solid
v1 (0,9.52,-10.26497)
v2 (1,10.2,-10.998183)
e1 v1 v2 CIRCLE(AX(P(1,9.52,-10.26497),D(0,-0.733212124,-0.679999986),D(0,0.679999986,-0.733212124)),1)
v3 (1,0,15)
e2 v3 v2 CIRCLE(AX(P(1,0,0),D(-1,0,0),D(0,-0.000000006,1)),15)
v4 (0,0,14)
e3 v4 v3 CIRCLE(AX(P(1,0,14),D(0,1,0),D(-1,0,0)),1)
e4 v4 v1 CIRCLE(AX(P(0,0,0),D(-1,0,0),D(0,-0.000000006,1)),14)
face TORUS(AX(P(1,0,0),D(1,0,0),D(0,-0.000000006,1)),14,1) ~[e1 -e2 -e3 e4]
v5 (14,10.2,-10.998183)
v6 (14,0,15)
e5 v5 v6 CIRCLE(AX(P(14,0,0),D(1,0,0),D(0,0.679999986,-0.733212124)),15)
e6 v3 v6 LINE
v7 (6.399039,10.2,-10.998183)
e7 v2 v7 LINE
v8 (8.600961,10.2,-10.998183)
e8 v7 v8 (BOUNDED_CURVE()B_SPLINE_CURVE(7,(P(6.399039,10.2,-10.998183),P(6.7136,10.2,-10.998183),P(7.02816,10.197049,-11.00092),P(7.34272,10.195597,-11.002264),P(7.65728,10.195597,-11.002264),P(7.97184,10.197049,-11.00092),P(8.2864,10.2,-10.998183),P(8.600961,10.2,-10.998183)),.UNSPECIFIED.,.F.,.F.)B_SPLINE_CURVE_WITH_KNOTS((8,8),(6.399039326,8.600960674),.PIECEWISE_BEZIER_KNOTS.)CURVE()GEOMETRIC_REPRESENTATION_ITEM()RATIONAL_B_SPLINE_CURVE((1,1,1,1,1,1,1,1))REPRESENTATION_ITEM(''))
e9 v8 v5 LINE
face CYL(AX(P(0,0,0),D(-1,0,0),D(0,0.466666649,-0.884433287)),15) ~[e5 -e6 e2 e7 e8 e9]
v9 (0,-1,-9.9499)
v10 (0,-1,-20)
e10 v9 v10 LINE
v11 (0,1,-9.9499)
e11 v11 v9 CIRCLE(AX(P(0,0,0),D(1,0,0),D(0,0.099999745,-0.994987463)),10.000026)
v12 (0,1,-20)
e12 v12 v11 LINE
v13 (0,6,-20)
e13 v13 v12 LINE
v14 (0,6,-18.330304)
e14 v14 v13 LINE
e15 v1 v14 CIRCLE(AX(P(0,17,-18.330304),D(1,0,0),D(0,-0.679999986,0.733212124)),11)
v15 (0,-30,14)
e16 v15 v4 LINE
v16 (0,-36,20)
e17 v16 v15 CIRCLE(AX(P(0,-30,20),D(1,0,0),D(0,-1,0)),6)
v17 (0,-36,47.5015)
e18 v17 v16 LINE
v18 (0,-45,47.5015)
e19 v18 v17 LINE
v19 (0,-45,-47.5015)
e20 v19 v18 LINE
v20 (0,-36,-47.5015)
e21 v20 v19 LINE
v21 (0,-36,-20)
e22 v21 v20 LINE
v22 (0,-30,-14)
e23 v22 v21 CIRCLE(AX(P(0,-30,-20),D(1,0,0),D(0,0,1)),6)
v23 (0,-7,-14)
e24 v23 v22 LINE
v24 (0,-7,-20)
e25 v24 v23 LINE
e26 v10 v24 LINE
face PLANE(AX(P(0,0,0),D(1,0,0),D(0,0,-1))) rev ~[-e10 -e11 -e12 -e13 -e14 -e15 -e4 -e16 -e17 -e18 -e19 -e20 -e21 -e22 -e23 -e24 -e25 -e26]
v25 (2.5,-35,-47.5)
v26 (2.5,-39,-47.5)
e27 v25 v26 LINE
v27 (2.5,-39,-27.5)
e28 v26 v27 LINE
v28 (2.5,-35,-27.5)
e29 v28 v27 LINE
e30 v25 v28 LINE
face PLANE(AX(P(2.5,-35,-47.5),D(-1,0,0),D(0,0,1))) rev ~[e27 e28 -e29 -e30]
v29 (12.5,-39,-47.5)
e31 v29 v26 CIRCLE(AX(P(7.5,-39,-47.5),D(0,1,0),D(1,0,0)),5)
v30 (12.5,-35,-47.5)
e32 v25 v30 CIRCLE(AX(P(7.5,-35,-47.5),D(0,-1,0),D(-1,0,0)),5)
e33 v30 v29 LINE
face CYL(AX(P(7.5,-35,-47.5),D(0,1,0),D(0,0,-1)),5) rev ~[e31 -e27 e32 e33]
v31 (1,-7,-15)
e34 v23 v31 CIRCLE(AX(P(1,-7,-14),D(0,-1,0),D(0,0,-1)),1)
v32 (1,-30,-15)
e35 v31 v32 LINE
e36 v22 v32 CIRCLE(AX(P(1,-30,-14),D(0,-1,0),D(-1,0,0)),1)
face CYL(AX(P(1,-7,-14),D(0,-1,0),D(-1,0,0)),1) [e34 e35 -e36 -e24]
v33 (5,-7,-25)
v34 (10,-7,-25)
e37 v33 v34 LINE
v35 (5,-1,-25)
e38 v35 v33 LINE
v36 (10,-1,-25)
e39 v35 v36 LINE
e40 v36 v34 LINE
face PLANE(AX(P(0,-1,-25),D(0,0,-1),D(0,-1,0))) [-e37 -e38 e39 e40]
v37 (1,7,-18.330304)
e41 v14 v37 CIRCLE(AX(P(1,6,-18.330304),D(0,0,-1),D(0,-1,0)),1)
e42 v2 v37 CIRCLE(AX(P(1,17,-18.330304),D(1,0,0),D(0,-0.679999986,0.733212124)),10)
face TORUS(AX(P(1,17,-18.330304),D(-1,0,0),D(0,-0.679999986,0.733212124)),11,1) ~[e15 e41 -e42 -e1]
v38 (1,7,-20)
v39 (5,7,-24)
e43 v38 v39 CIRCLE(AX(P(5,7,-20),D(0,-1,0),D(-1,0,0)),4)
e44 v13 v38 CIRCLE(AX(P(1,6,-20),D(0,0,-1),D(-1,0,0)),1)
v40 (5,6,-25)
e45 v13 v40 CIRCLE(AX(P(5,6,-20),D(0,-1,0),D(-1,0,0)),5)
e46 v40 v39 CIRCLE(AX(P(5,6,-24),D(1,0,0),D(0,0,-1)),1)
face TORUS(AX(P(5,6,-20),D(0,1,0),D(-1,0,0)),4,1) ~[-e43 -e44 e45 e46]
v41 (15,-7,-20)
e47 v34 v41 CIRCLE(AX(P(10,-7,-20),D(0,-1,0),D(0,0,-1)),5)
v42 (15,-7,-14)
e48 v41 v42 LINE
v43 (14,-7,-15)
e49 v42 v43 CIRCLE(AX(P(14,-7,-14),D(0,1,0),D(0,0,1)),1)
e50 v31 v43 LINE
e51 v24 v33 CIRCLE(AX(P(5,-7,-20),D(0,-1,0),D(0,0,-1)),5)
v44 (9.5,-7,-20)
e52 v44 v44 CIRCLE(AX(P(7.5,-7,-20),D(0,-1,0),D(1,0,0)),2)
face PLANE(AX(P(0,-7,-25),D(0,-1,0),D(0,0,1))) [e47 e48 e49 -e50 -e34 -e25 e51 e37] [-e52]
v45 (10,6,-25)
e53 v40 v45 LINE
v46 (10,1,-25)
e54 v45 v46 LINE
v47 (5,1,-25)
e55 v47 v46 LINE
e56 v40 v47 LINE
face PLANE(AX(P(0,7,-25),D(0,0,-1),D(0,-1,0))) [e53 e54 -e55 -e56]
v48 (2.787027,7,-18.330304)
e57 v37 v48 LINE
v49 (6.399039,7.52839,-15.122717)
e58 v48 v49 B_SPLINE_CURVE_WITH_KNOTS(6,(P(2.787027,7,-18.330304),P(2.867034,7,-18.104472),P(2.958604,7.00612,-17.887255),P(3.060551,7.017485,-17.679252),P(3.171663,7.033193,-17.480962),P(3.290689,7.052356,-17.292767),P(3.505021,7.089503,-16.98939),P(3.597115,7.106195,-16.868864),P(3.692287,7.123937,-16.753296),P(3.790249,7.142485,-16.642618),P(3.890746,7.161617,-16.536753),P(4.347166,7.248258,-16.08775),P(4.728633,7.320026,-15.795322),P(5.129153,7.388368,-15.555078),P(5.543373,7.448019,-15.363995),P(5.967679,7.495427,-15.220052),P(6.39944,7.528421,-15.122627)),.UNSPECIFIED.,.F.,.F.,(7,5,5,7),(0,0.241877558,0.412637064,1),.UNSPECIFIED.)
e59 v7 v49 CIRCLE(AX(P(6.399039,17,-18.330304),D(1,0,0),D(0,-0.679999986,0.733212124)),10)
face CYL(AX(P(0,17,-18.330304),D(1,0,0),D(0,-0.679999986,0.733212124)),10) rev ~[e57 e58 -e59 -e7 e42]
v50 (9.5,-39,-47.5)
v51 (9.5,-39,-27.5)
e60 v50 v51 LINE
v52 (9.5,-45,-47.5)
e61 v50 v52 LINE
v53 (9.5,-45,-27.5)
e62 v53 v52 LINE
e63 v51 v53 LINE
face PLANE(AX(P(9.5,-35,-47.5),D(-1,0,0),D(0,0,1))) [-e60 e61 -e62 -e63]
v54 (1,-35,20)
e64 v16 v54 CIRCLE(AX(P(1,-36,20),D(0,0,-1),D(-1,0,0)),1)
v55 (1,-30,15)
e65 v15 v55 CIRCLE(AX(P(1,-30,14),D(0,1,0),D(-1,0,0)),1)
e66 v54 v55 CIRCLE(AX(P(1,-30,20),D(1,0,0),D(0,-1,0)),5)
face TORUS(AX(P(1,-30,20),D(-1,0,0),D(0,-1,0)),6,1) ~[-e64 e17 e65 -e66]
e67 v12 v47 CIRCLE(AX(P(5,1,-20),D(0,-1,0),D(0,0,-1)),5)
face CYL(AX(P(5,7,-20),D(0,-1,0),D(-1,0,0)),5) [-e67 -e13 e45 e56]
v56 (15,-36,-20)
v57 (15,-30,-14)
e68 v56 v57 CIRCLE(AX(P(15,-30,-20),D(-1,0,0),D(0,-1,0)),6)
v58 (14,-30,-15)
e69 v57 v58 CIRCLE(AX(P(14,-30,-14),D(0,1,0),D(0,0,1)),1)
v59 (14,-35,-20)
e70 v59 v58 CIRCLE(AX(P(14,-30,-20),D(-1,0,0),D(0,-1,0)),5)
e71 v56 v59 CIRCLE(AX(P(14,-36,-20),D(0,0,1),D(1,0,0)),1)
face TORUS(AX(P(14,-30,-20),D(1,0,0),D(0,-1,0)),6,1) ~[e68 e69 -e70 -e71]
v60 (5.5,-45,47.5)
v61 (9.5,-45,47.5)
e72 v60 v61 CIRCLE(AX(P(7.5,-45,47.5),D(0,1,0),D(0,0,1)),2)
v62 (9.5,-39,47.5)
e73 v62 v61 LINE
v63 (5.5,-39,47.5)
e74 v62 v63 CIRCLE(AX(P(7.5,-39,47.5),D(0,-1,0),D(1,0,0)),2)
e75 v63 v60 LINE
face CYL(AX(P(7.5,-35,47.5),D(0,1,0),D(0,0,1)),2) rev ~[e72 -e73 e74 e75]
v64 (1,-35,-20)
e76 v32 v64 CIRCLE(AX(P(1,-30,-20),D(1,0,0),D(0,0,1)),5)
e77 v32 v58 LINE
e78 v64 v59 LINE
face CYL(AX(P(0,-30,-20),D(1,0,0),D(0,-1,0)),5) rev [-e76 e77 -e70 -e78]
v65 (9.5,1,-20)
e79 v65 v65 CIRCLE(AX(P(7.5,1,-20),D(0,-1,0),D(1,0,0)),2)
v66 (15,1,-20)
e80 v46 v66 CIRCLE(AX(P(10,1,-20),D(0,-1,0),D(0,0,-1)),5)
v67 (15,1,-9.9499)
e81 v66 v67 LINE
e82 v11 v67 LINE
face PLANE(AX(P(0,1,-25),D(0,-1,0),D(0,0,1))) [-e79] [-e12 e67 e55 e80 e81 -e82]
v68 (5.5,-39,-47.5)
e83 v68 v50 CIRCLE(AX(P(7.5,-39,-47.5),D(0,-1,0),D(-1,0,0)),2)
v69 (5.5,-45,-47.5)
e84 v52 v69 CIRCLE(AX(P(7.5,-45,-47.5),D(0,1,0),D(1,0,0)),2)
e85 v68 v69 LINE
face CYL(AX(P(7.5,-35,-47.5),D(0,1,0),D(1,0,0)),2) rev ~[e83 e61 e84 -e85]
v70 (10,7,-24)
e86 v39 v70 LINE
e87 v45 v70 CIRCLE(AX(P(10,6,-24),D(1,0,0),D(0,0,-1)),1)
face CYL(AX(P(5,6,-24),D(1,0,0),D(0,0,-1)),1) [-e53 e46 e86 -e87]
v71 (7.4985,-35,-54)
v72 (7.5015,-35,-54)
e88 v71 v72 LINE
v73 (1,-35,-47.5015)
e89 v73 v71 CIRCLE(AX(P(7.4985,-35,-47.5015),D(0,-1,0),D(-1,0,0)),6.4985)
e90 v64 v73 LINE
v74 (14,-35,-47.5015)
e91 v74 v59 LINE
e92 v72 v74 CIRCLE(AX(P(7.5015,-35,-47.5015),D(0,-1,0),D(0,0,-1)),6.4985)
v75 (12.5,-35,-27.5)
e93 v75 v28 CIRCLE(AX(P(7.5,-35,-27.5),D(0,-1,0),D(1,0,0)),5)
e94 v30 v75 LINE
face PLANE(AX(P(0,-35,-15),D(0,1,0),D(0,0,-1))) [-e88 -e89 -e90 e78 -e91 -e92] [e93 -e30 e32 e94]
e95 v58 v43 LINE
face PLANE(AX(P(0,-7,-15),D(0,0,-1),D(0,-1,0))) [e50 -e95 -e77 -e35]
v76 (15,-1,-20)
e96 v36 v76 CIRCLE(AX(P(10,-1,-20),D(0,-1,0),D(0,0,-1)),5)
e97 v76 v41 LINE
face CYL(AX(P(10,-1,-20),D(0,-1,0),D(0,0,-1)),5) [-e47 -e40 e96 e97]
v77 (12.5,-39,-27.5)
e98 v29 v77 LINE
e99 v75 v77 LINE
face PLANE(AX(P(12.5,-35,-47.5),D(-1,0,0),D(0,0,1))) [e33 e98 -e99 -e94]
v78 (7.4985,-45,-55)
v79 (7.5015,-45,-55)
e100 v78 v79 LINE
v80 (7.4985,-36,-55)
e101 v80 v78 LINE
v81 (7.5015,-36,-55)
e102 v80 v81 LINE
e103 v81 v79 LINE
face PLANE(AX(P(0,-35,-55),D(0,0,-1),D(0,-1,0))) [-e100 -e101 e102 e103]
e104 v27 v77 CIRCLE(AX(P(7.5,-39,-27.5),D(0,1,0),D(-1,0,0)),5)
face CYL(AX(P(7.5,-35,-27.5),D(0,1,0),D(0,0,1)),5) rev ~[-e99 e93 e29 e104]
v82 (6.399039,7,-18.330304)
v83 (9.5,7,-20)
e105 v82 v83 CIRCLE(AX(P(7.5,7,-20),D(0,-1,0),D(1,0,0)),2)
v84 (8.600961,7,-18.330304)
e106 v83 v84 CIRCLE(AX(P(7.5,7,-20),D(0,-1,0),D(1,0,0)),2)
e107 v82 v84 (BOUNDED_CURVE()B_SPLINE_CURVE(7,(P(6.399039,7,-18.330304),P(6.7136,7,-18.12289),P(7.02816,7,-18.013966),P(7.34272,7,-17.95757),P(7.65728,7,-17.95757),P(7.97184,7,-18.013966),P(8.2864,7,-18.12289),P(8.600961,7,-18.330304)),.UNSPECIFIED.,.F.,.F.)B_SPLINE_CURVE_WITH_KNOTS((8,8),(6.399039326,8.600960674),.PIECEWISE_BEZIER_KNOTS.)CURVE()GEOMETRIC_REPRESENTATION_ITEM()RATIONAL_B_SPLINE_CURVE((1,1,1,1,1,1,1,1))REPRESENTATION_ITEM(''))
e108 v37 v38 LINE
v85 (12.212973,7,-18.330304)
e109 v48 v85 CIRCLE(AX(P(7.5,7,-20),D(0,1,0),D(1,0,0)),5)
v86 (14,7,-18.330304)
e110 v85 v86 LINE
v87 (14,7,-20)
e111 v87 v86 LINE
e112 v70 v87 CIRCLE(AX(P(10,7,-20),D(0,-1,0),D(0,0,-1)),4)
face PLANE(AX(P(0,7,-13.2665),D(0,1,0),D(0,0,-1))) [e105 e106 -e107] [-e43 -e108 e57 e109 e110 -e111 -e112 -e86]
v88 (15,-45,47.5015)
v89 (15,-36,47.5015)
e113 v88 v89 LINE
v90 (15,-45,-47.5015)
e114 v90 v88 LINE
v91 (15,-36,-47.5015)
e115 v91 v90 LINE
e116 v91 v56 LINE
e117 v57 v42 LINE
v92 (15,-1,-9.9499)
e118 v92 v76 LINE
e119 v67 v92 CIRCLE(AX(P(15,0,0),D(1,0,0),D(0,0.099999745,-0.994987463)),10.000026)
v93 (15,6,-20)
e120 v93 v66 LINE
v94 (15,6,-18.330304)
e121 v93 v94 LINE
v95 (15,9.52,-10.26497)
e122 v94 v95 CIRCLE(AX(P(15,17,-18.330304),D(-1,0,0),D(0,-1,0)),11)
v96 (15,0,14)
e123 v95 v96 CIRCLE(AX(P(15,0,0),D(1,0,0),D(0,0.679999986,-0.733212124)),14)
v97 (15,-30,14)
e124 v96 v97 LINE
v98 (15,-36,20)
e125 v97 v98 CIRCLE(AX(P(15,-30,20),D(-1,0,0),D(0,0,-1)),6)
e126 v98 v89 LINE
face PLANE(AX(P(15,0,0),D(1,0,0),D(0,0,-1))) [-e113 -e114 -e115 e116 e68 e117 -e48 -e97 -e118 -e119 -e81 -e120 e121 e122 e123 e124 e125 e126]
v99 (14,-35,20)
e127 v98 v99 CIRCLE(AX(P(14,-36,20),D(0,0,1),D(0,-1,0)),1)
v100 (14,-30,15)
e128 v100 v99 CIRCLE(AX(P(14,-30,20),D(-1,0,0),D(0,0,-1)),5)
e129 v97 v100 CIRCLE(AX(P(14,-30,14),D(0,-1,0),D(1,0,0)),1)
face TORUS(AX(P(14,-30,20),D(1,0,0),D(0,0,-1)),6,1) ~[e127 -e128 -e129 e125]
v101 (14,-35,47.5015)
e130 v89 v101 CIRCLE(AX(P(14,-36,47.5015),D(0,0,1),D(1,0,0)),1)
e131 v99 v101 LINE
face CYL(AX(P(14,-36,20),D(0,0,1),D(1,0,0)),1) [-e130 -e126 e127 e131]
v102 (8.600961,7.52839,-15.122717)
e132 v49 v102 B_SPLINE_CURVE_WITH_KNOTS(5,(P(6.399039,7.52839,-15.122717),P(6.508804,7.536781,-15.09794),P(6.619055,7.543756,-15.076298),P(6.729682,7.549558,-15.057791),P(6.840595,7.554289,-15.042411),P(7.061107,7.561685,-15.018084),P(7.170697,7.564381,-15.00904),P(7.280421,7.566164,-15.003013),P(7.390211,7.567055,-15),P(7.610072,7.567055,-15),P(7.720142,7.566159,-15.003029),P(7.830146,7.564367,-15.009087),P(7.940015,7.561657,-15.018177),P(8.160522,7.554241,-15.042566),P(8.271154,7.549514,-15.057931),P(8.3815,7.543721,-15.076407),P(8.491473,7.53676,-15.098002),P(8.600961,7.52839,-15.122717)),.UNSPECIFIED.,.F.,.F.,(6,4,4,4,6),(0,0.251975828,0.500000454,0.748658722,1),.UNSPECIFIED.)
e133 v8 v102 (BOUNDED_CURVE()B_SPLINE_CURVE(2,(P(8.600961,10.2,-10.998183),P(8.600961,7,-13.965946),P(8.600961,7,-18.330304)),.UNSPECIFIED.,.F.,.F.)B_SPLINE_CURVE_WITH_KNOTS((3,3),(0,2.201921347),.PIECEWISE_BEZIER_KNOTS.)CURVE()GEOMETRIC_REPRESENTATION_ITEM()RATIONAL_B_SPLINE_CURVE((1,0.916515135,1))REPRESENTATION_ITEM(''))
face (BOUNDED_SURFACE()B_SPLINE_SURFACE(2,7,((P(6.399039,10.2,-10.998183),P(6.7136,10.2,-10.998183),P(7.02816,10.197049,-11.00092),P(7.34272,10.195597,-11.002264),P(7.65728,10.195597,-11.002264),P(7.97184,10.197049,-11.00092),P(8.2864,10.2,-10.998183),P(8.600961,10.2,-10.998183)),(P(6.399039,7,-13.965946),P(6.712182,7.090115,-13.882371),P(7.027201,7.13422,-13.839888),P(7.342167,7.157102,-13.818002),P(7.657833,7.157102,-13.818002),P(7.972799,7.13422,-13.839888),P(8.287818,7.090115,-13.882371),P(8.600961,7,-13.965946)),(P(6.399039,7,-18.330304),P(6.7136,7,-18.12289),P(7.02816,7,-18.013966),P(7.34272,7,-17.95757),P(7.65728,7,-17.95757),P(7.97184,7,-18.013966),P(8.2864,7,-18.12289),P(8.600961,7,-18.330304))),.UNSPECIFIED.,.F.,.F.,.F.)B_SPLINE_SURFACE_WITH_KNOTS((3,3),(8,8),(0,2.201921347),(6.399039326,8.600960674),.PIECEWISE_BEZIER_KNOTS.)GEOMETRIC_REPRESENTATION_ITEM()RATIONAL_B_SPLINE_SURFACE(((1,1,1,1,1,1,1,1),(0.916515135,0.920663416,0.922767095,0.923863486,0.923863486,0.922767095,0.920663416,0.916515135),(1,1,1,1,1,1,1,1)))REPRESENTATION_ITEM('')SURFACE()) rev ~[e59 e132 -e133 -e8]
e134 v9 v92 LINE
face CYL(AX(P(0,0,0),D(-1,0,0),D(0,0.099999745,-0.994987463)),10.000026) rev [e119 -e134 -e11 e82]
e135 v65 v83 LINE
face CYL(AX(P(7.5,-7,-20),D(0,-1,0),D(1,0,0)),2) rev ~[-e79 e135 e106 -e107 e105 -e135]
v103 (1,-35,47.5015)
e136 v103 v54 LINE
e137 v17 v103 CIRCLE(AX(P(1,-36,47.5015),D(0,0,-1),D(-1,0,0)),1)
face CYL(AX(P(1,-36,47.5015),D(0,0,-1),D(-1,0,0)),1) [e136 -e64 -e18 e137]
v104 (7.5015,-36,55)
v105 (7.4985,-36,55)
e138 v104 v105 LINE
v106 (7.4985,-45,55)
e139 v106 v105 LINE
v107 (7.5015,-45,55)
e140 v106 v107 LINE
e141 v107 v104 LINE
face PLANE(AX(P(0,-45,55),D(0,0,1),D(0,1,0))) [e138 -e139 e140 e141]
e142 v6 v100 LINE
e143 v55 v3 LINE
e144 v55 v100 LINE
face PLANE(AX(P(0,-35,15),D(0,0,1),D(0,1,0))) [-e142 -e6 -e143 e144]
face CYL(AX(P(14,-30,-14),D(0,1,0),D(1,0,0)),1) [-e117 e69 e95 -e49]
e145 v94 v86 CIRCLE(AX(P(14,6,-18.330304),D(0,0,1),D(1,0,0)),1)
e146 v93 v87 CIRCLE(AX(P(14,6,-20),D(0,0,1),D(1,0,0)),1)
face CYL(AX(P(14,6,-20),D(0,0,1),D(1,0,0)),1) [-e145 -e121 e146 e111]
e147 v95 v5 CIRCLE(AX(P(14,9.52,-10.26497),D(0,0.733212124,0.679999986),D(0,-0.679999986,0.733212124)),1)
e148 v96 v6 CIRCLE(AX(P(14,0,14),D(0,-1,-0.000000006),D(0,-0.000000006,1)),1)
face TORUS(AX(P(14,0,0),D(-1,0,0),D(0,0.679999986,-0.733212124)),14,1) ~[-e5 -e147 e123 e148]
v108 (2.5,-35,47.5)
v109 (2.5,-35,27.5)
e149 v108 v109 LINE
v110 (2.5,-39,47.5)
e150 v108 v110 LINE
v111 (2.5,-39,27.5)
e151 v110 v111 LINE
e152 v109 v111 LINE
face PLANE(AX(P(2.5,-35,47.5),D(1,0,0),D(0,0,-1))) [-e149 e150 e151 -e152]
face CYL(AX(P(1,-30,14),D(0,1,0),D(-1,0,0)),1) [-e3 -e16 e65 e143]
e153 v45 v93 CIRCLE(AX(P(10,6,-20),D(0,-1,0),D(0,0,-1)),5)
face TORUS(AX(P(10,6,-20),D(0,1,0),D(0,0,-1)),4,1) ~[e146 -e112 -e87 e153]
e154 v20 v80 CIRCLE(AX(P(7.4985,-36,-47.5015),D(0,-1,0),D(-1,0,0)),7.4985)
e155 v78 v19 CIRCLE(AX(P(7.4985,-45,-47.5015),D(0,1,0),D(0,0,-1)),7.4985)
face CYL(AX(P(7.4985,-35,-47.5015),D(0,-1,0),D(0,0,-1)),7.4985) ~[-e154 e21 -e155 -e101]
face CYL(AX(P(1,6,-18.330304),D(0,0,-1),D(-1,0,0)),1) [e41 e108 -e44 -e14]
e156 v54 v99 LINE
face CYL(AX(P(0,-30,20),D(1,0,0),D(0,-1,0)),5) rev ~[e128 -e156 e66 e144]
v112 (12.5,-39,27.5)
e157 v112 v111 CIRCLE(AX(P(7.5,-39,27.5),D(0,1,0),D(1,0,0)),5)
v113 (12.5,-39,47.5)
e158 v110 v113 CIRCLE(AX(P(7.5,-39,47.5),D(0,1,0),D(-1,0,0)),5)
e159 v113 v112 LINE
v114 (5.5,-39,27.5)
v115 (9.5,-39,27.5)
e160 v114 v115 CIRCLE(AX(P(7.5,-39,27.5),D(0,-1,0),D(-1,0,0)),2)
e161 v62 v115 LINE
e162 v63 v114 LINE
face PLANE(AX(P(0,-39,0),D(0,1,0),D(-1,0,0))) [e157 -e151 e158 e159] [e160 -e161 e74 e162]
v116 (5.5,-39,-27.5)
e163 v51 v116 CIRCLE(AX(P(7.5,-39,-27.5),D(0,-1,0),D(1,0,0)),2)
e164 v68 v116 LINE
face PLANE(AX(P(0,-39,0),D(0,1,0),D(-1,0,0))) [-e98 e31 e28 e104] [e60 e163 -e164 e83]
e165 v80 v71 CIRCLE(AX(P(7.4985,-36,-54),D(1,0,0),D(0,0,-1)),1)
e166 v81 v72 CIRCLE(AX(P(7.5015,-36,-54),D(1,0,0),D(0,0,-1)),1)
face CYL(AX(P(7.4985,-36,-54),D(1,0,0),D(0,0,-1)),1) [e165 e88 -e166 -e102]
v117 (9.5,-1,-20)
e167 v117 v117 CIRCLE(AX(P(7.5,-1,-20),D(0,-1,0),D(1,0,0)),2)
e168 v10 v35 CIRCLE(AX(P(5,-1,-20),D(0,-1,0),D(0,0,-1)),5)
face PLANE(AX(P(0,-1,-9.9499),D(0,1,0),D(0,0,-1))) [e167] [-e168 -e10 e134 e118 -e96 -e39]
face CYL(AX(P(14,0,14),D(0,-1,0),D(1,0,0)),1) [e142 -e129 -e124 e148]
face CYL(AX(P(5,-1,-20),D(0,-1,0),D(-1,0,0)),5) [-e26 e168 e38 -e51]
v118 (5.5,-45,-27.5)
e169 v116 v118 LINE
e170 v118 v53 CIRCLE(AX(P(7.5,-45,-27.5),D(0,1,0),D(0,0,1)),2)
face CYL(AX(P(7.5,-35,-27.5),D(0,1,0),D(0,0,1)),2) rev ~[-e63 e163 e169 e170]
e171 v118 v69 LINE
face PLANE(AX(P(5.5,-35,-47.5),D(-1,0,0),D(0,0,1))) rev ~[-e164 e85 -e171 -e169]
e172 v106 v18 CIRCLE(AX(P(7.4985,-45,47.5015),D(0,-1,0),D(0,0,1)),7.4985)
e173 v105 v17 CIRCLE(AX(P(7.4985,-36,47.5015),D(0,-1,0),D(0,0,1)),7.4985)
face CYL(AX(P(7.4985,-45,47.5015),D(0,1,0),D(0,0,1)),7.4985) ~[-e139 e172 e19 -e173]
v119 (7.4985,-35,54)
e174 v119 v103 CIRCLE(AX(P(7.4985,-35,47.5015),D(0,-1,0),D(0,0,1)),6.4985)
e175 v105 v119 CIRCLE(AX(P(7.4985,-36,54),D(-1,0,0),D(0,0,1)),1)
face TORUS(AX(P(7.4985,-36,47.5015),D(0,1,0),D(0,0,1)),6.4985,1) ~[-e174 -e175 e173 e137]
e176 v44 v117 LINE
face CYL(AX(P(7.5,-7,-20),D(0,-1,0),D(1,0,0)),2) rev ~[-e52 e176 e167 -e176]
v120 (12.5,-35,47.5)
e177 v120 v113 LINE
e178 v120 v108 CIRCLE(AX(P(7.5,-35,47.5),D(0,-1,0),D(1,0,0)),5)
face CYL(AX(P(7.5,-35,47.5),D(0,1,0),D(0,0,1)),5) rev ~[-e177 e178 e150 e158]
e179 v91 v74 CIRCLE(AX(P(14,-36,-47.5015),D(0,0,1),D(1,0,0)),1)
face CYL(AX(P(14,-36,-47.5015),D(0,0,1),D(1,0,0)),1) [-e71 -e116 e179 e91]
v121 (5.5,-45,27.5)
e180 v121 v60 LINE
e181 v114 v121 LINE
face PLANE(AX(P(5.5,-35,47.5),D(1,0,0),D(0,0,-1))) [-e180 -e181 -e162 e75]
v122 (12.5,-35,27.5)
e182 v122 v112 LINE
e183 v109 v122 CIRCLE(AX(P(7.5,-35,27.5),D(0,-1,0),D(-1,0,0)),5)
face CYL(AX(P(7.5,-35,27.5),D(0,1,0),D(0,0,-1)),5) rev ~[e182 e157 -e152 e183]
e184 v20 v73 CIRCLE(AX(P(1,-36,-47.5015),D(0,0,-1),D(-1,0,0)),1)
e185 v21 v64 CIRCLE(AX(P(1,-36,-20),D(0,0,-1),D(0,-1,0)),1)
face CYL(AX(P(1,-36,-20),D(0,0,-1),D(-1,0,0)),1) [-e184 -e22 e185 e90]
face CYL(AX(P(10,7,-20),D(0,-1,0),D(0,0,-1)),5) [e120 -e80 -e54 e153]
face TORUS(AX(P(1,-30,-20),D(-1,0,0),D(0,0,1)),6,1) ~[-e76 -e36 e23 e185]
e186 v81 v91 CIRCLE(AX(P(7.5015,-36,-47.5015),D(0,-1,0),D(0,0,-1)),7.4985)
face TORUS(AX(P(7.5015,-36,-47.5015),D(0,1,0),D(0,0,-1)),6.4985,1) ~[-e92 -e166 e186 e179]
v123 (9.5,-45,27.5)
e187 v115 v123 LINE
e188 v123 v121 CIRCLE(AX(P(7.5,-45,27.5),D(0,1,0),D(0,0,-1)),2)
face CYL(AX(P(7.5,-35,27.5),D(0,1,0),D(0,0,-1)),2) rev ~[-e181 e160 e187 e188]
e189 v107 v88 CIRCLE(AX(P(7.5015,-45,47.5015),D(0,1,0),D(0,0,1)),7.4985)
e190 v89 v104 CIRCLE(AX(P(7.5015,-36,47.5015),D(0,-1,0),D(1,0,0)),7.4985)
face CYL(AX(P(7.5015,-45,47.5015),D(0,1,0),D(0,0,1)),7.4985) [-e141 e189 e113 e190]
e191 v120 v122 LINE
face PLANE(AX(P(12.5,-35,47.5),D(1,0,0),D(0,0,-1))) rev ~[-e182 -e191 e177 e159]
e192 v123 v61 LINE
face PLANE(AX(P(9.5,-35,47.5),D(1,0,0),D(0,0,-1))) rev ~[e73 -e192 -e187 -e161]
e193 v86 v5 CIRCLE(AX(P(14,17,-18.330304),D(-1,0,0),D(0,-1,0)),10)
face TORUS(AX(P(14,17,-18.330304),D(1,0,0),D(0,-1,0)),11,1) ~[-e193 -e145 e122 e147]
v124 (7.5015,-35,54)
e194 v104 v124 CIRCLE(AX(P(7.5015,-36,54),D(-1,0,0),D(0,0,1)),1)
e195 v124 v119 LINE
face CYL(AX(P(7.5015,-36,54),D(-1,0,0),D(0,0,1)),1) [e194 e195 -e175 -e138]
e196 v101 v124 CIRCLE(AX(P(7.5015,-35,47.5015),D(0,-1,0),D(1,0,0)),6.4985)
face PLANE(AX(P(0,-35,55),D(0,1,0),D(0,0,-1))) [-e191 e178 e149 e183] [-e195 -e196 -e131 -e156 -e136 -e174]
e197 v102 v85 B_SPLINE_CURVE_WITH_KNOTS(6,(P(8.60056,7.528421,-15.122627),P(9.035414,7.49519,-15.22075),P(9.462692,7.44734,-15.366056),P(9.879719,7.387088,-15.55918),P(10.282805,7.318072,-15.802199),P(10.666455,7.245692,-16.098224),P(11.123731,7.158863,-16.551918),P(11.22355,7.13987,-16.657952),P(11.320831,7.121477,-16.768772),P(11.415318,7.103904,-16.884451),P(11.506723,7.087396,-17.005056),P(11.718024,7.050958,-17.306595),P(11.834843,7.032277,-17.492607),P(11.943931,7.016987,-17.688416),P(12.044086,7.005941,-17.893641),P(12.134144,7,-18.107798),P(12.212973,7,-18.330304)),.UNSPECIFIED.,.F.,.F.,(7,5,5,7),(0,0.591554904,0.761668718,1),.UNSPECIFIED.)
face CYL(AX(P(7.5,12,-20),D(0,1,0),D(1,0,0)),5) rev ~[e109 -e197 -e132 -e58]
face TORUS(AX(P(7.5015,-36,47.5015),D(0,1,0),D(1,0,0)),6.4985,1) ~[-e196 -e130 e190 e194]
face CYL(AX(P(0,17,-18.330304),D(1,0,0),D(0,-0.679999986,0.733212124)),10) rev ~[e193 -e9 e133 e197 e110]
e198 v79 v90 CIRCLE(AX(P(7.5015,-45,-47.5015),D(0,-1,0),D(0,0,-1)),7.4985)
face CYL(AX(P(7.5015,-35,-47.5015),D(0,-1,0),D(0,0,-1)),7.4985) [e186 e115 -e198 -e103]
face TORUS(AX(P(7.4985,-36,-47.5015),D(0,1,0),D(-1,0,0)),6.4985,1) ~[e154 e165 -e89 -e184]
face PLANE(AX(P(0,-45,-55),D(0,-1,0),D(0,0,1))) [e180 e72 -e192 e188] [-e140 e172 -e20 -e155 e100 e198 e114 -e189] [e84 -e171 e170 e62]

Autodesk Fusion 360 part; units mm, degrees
sketch "Esquisse1" plane through (0, 0, 0) normal (1, 0, 0) x (0, 0, -1)
  circle A0 centre (0, 0) radius 10 construction
  circle A1 centre (0, 0) radius 15 construction
  line L0 (15, -35) -> (15, 0) construction
  line L1 (-15, -35) -> (-15, 0) construction
  line L2 (4, 1) -> (25, 1) construction
  line L3 (4, -1) -> (25, -1) construction
  line L4 (25, -1) -> (25, -7) construction
  line L5 (25, -7) -> (13.2665, -7) construction
  line L6 (25, 1) -> (25, 7) construction
  line L7 (25, 7) -> (13.2665, 7) construction
  line L8 (-15, -35) -> (-55, -35) construction
  line L9 (-55, -35) -> (-55, -45) construction
  line L10 (15, -35) -> (55, -35) construction
  line L11 (55, -35) -> (55, -45) construction
  line L12 (55, -45) -> (-55, -45) construction
  line L13 (55, -45) -> (-55, -45)
  line L14 (-55, -45) -> (-55, -35)
  line L15 (-55, -35) -> (-15, -35)
  line L16 (-15, -35) -> (-15, 0)
  line L17 (13.2665, 7) -> (25, 7)
  line L18 (25, 7) -> (25, 1)
  line L19 (25, 1) -> (9.9499, 1)
  line L20 (9.9499, -1) -> (25, -1)
  line L21 (25, -1) -> (25, -7)
  line L22 (25, -7) -> (15, -7)
  line L23 (15, -7) -> (15, -35)
  line L24 (15, -35) -> (55, -35)
  line L25 (55, -35) -> (55, -45)
  arc A2 (13.2665, 7) -> (-15, 0) centre (0, 0) ccw
  arc A3 (9.9499, 1) -> (9.9499, -1) centre (0, 0) ccw
  dimension "d58" = 20
  dimension "d59" = 30
  dimension "d60" = 10
  dimension "d61" = 10
  dimension "d62" = 45
  dimension "d63" = 10
  dimension "d64" = 10
extrude "Extrusion8" add sketch "Esquisse1" along normal blind 15
fillet "Congé9" radius 7.5 4 edges at (15, -40, -55) (0, -40, -55) (15, -40, 55) (0, -40, 55)
fillet "Congé10" radius 5 2 edges at (7.5, -35, -15) (7.5, -35, 15)
sketch "Esquisse8" plane through (0, -35, 0) normal (0, 1, 0) x (-1, 0, 0)
  line L0 (-15, 20) -> (0, 20)
  line L1 (0, 20) -> (0, 47.5)
  arc A0 (0, 47.5) -> (-15, 47.5) centre (-7.5, 47.5) ccw
  line L2 (-15, 47.5) -> (-15, 20)
  line L3 (0, 47.5) -> (-15, 47.5) construction
  line L4 (-7.5, 55) -> (-7.5, 20) construction
  line L5 (0, 27.5) -> (-15, 27.5) construction
  line L6 (-2.5, 47.5) -> (-2.5, 27.5)
  line L7 (-5.5, 47.5) -> (-5.5, 27.5)
  arc A1 (-5.5, 47.5) -> (-7.5, 49.5) centre (-7.5, 47.5) ccw
  arc A2 (-2.5, 47.5) -> (-7.5, 52.5) centre (-7.5, 47.5) ccw
  arc A3 (-7.5, 25.5) -> (-5.5, 27.5) centre (-7.5, 27.5) ccw
  arc A4 (-7.5, 22.5) -> (-2.5, 27.5) centre (-7.5, 27.5) ccw
  arc A5 (-12.5, 27.5) -> (-7.5, 22.5) centre (-7.5, 27.5) ccw
  arc A6 (-9.5, 27.5) -> (-7.5, 25.5) centre (-7.5, 27.5) ccw
  line L8 (-9.5, 47.5) -> (-9.5, 27.5)
  line L9 (-12.5, 47.5) -> (-12.5, 27.5)
  arc A7 (-7.5, 52.5) -> (-12.5, 47.5) centre (-7.5, 47.5) ccw
  arc A8 (-7.5, 49.5) -> (-9.5, 47.5) centre (-7.5, 47.5) ccw
  line L10 (10, 0) -> (-30, 0)
  line L11 (-12.5, -47.5) -> (-12.5, -27.5)
  line L12 (-2.5, -47.5) -> (-2.5, -27.5)
  arc A9 (-7.5, -49.5) -> (-5.5, -47.5) centre (-7.5, -47.5) ccw
  arc A10 (-7.5, -52.5) -> (-2.5, -47.5) centre (-7.5, -47.5) ccw
  line L13 (-5.5, -47.5) -> (-5.5, -27.5)
  line L14 (0, -27.5) -> (-15, -27.5) construction
  arc A11 (-2.5, -27.5) -> (-7.5, -22.5) centre (-7.5, -27.5) ccw
  arc A12 (-5.5, -27.5) -> (-7.5, -25.5) centre (-7.5, -27.5) ccw
  arc A13 (-9.5, -47.5) -> (-7.5, -49.5) centre (-7.5, -47.5) ccw
  arc A14 (-12.5, -47.5) -> (-7.5, -52.5) centre (-7.5, -47.5) ccw
  line L15 (0, -47.5) -> (-15, -47.5) construction
  arc A15 (-7.5, -22.5) -> (-12.5, -27.5) centre (-7.5, -27.5) ccw
  line L16 (-9.5, -47.5) -> (-9.5, -27.5)
  arc A16 (-7.5, -25.5) -> (-9.5, -27.5) centre (-7.5, -27.5) ccw
  point P0 (-15, -47.5)
  point P1 (-7.5, -47.5)
  point P2 (0, -47.5)
  dimension "d71" = 20
  dimension "d72" = 5
  dimension "d73" = 2
extrude "Extrusion9" cut sketch "Esquisse8" against normal blind 20 contours L7 A1 A3 A6 L8 A8 | A9 L13 A12 A13 L16 A16
extrude "Extrusion10" cut sketch "Esquisse8" against normal blind 4 contours L6 A2 A4 A5 L9 A7 | L11 L12 A10 A11 A14 A15
sketch "Esquisse9" plane through (0, -7, 0) normal (0, -1, 0) x (1, 0, 0)
  line L0 (0, -15) -> (0, -25)
  line L1 (0, -25) -> (15, -25)
  line L2 (15, -25) -> (15, -15)
  line L3 (15, -15) -> (0, -15)
  line L4 (15, -25) -> (0, -15) construction
  line L5 (15, -15) -> (0, -25) construction
  circle A0 centre (7.5, -20) radius 2
  dimension "d78" = 4
extrude "Extrusion11" cut sketch "Esquisse9" against normal blind 35 contours A0
fillet "Congé11" radius 10 1 edges at (7.5, 7, -13.2665)
ref_plane "Plan de construction2" through (7.5, 12, -19.1332) normal (0, 1, 0) x (0, 0, 1)
sketch "Esquisse10" plane through (7.5, 12, -21.6652) normal (0, 1, 0) x (1, 0, 0)
  arc A0 (1.101, -3.3348) -> (-1.101, -3.3348) centre (0, -1.6652) ccw
  circle A1 centre (0, -1.6652) radius 5
  dimension "d84" = 10
extrude "Extrusion12" cut sketch "Esquisse10" against normal up to surface (5 mm away)
fillet "Congé12" radius 5 4 edges at (15, -4, -25) (15, 4, -25) (0, 4, -25) (0, -4, -25)
fillet "Congé13" radius 1 23 edges at (0, -15, 15) (0, -33.5355, 16.4645) (0, -35, 33.75) (7.5, -35, 55) (15, -35, 33.75) (15, -33.5355, 16.4645) (15, -15, 15) (15, 13.9638, 5.4785) (15, 7.8348, -14.3303) (15, 7, -19.1652) (13.5355, 7, -23.5355) (7.5, 7, -25) (1.4645, 7, -23.5355) (0, 7, -19.1652) (0, 7.8348, -14.3303) (0, 13.9638, 5.4785) (0, -18.5, -15) (0, -33.5355, -16.4645) (0, -35, -33.75) (7.5, -35, -55) (15, -35, -33.75) (15, -33.5355, -16.4645) (15, -18.5, -15)
